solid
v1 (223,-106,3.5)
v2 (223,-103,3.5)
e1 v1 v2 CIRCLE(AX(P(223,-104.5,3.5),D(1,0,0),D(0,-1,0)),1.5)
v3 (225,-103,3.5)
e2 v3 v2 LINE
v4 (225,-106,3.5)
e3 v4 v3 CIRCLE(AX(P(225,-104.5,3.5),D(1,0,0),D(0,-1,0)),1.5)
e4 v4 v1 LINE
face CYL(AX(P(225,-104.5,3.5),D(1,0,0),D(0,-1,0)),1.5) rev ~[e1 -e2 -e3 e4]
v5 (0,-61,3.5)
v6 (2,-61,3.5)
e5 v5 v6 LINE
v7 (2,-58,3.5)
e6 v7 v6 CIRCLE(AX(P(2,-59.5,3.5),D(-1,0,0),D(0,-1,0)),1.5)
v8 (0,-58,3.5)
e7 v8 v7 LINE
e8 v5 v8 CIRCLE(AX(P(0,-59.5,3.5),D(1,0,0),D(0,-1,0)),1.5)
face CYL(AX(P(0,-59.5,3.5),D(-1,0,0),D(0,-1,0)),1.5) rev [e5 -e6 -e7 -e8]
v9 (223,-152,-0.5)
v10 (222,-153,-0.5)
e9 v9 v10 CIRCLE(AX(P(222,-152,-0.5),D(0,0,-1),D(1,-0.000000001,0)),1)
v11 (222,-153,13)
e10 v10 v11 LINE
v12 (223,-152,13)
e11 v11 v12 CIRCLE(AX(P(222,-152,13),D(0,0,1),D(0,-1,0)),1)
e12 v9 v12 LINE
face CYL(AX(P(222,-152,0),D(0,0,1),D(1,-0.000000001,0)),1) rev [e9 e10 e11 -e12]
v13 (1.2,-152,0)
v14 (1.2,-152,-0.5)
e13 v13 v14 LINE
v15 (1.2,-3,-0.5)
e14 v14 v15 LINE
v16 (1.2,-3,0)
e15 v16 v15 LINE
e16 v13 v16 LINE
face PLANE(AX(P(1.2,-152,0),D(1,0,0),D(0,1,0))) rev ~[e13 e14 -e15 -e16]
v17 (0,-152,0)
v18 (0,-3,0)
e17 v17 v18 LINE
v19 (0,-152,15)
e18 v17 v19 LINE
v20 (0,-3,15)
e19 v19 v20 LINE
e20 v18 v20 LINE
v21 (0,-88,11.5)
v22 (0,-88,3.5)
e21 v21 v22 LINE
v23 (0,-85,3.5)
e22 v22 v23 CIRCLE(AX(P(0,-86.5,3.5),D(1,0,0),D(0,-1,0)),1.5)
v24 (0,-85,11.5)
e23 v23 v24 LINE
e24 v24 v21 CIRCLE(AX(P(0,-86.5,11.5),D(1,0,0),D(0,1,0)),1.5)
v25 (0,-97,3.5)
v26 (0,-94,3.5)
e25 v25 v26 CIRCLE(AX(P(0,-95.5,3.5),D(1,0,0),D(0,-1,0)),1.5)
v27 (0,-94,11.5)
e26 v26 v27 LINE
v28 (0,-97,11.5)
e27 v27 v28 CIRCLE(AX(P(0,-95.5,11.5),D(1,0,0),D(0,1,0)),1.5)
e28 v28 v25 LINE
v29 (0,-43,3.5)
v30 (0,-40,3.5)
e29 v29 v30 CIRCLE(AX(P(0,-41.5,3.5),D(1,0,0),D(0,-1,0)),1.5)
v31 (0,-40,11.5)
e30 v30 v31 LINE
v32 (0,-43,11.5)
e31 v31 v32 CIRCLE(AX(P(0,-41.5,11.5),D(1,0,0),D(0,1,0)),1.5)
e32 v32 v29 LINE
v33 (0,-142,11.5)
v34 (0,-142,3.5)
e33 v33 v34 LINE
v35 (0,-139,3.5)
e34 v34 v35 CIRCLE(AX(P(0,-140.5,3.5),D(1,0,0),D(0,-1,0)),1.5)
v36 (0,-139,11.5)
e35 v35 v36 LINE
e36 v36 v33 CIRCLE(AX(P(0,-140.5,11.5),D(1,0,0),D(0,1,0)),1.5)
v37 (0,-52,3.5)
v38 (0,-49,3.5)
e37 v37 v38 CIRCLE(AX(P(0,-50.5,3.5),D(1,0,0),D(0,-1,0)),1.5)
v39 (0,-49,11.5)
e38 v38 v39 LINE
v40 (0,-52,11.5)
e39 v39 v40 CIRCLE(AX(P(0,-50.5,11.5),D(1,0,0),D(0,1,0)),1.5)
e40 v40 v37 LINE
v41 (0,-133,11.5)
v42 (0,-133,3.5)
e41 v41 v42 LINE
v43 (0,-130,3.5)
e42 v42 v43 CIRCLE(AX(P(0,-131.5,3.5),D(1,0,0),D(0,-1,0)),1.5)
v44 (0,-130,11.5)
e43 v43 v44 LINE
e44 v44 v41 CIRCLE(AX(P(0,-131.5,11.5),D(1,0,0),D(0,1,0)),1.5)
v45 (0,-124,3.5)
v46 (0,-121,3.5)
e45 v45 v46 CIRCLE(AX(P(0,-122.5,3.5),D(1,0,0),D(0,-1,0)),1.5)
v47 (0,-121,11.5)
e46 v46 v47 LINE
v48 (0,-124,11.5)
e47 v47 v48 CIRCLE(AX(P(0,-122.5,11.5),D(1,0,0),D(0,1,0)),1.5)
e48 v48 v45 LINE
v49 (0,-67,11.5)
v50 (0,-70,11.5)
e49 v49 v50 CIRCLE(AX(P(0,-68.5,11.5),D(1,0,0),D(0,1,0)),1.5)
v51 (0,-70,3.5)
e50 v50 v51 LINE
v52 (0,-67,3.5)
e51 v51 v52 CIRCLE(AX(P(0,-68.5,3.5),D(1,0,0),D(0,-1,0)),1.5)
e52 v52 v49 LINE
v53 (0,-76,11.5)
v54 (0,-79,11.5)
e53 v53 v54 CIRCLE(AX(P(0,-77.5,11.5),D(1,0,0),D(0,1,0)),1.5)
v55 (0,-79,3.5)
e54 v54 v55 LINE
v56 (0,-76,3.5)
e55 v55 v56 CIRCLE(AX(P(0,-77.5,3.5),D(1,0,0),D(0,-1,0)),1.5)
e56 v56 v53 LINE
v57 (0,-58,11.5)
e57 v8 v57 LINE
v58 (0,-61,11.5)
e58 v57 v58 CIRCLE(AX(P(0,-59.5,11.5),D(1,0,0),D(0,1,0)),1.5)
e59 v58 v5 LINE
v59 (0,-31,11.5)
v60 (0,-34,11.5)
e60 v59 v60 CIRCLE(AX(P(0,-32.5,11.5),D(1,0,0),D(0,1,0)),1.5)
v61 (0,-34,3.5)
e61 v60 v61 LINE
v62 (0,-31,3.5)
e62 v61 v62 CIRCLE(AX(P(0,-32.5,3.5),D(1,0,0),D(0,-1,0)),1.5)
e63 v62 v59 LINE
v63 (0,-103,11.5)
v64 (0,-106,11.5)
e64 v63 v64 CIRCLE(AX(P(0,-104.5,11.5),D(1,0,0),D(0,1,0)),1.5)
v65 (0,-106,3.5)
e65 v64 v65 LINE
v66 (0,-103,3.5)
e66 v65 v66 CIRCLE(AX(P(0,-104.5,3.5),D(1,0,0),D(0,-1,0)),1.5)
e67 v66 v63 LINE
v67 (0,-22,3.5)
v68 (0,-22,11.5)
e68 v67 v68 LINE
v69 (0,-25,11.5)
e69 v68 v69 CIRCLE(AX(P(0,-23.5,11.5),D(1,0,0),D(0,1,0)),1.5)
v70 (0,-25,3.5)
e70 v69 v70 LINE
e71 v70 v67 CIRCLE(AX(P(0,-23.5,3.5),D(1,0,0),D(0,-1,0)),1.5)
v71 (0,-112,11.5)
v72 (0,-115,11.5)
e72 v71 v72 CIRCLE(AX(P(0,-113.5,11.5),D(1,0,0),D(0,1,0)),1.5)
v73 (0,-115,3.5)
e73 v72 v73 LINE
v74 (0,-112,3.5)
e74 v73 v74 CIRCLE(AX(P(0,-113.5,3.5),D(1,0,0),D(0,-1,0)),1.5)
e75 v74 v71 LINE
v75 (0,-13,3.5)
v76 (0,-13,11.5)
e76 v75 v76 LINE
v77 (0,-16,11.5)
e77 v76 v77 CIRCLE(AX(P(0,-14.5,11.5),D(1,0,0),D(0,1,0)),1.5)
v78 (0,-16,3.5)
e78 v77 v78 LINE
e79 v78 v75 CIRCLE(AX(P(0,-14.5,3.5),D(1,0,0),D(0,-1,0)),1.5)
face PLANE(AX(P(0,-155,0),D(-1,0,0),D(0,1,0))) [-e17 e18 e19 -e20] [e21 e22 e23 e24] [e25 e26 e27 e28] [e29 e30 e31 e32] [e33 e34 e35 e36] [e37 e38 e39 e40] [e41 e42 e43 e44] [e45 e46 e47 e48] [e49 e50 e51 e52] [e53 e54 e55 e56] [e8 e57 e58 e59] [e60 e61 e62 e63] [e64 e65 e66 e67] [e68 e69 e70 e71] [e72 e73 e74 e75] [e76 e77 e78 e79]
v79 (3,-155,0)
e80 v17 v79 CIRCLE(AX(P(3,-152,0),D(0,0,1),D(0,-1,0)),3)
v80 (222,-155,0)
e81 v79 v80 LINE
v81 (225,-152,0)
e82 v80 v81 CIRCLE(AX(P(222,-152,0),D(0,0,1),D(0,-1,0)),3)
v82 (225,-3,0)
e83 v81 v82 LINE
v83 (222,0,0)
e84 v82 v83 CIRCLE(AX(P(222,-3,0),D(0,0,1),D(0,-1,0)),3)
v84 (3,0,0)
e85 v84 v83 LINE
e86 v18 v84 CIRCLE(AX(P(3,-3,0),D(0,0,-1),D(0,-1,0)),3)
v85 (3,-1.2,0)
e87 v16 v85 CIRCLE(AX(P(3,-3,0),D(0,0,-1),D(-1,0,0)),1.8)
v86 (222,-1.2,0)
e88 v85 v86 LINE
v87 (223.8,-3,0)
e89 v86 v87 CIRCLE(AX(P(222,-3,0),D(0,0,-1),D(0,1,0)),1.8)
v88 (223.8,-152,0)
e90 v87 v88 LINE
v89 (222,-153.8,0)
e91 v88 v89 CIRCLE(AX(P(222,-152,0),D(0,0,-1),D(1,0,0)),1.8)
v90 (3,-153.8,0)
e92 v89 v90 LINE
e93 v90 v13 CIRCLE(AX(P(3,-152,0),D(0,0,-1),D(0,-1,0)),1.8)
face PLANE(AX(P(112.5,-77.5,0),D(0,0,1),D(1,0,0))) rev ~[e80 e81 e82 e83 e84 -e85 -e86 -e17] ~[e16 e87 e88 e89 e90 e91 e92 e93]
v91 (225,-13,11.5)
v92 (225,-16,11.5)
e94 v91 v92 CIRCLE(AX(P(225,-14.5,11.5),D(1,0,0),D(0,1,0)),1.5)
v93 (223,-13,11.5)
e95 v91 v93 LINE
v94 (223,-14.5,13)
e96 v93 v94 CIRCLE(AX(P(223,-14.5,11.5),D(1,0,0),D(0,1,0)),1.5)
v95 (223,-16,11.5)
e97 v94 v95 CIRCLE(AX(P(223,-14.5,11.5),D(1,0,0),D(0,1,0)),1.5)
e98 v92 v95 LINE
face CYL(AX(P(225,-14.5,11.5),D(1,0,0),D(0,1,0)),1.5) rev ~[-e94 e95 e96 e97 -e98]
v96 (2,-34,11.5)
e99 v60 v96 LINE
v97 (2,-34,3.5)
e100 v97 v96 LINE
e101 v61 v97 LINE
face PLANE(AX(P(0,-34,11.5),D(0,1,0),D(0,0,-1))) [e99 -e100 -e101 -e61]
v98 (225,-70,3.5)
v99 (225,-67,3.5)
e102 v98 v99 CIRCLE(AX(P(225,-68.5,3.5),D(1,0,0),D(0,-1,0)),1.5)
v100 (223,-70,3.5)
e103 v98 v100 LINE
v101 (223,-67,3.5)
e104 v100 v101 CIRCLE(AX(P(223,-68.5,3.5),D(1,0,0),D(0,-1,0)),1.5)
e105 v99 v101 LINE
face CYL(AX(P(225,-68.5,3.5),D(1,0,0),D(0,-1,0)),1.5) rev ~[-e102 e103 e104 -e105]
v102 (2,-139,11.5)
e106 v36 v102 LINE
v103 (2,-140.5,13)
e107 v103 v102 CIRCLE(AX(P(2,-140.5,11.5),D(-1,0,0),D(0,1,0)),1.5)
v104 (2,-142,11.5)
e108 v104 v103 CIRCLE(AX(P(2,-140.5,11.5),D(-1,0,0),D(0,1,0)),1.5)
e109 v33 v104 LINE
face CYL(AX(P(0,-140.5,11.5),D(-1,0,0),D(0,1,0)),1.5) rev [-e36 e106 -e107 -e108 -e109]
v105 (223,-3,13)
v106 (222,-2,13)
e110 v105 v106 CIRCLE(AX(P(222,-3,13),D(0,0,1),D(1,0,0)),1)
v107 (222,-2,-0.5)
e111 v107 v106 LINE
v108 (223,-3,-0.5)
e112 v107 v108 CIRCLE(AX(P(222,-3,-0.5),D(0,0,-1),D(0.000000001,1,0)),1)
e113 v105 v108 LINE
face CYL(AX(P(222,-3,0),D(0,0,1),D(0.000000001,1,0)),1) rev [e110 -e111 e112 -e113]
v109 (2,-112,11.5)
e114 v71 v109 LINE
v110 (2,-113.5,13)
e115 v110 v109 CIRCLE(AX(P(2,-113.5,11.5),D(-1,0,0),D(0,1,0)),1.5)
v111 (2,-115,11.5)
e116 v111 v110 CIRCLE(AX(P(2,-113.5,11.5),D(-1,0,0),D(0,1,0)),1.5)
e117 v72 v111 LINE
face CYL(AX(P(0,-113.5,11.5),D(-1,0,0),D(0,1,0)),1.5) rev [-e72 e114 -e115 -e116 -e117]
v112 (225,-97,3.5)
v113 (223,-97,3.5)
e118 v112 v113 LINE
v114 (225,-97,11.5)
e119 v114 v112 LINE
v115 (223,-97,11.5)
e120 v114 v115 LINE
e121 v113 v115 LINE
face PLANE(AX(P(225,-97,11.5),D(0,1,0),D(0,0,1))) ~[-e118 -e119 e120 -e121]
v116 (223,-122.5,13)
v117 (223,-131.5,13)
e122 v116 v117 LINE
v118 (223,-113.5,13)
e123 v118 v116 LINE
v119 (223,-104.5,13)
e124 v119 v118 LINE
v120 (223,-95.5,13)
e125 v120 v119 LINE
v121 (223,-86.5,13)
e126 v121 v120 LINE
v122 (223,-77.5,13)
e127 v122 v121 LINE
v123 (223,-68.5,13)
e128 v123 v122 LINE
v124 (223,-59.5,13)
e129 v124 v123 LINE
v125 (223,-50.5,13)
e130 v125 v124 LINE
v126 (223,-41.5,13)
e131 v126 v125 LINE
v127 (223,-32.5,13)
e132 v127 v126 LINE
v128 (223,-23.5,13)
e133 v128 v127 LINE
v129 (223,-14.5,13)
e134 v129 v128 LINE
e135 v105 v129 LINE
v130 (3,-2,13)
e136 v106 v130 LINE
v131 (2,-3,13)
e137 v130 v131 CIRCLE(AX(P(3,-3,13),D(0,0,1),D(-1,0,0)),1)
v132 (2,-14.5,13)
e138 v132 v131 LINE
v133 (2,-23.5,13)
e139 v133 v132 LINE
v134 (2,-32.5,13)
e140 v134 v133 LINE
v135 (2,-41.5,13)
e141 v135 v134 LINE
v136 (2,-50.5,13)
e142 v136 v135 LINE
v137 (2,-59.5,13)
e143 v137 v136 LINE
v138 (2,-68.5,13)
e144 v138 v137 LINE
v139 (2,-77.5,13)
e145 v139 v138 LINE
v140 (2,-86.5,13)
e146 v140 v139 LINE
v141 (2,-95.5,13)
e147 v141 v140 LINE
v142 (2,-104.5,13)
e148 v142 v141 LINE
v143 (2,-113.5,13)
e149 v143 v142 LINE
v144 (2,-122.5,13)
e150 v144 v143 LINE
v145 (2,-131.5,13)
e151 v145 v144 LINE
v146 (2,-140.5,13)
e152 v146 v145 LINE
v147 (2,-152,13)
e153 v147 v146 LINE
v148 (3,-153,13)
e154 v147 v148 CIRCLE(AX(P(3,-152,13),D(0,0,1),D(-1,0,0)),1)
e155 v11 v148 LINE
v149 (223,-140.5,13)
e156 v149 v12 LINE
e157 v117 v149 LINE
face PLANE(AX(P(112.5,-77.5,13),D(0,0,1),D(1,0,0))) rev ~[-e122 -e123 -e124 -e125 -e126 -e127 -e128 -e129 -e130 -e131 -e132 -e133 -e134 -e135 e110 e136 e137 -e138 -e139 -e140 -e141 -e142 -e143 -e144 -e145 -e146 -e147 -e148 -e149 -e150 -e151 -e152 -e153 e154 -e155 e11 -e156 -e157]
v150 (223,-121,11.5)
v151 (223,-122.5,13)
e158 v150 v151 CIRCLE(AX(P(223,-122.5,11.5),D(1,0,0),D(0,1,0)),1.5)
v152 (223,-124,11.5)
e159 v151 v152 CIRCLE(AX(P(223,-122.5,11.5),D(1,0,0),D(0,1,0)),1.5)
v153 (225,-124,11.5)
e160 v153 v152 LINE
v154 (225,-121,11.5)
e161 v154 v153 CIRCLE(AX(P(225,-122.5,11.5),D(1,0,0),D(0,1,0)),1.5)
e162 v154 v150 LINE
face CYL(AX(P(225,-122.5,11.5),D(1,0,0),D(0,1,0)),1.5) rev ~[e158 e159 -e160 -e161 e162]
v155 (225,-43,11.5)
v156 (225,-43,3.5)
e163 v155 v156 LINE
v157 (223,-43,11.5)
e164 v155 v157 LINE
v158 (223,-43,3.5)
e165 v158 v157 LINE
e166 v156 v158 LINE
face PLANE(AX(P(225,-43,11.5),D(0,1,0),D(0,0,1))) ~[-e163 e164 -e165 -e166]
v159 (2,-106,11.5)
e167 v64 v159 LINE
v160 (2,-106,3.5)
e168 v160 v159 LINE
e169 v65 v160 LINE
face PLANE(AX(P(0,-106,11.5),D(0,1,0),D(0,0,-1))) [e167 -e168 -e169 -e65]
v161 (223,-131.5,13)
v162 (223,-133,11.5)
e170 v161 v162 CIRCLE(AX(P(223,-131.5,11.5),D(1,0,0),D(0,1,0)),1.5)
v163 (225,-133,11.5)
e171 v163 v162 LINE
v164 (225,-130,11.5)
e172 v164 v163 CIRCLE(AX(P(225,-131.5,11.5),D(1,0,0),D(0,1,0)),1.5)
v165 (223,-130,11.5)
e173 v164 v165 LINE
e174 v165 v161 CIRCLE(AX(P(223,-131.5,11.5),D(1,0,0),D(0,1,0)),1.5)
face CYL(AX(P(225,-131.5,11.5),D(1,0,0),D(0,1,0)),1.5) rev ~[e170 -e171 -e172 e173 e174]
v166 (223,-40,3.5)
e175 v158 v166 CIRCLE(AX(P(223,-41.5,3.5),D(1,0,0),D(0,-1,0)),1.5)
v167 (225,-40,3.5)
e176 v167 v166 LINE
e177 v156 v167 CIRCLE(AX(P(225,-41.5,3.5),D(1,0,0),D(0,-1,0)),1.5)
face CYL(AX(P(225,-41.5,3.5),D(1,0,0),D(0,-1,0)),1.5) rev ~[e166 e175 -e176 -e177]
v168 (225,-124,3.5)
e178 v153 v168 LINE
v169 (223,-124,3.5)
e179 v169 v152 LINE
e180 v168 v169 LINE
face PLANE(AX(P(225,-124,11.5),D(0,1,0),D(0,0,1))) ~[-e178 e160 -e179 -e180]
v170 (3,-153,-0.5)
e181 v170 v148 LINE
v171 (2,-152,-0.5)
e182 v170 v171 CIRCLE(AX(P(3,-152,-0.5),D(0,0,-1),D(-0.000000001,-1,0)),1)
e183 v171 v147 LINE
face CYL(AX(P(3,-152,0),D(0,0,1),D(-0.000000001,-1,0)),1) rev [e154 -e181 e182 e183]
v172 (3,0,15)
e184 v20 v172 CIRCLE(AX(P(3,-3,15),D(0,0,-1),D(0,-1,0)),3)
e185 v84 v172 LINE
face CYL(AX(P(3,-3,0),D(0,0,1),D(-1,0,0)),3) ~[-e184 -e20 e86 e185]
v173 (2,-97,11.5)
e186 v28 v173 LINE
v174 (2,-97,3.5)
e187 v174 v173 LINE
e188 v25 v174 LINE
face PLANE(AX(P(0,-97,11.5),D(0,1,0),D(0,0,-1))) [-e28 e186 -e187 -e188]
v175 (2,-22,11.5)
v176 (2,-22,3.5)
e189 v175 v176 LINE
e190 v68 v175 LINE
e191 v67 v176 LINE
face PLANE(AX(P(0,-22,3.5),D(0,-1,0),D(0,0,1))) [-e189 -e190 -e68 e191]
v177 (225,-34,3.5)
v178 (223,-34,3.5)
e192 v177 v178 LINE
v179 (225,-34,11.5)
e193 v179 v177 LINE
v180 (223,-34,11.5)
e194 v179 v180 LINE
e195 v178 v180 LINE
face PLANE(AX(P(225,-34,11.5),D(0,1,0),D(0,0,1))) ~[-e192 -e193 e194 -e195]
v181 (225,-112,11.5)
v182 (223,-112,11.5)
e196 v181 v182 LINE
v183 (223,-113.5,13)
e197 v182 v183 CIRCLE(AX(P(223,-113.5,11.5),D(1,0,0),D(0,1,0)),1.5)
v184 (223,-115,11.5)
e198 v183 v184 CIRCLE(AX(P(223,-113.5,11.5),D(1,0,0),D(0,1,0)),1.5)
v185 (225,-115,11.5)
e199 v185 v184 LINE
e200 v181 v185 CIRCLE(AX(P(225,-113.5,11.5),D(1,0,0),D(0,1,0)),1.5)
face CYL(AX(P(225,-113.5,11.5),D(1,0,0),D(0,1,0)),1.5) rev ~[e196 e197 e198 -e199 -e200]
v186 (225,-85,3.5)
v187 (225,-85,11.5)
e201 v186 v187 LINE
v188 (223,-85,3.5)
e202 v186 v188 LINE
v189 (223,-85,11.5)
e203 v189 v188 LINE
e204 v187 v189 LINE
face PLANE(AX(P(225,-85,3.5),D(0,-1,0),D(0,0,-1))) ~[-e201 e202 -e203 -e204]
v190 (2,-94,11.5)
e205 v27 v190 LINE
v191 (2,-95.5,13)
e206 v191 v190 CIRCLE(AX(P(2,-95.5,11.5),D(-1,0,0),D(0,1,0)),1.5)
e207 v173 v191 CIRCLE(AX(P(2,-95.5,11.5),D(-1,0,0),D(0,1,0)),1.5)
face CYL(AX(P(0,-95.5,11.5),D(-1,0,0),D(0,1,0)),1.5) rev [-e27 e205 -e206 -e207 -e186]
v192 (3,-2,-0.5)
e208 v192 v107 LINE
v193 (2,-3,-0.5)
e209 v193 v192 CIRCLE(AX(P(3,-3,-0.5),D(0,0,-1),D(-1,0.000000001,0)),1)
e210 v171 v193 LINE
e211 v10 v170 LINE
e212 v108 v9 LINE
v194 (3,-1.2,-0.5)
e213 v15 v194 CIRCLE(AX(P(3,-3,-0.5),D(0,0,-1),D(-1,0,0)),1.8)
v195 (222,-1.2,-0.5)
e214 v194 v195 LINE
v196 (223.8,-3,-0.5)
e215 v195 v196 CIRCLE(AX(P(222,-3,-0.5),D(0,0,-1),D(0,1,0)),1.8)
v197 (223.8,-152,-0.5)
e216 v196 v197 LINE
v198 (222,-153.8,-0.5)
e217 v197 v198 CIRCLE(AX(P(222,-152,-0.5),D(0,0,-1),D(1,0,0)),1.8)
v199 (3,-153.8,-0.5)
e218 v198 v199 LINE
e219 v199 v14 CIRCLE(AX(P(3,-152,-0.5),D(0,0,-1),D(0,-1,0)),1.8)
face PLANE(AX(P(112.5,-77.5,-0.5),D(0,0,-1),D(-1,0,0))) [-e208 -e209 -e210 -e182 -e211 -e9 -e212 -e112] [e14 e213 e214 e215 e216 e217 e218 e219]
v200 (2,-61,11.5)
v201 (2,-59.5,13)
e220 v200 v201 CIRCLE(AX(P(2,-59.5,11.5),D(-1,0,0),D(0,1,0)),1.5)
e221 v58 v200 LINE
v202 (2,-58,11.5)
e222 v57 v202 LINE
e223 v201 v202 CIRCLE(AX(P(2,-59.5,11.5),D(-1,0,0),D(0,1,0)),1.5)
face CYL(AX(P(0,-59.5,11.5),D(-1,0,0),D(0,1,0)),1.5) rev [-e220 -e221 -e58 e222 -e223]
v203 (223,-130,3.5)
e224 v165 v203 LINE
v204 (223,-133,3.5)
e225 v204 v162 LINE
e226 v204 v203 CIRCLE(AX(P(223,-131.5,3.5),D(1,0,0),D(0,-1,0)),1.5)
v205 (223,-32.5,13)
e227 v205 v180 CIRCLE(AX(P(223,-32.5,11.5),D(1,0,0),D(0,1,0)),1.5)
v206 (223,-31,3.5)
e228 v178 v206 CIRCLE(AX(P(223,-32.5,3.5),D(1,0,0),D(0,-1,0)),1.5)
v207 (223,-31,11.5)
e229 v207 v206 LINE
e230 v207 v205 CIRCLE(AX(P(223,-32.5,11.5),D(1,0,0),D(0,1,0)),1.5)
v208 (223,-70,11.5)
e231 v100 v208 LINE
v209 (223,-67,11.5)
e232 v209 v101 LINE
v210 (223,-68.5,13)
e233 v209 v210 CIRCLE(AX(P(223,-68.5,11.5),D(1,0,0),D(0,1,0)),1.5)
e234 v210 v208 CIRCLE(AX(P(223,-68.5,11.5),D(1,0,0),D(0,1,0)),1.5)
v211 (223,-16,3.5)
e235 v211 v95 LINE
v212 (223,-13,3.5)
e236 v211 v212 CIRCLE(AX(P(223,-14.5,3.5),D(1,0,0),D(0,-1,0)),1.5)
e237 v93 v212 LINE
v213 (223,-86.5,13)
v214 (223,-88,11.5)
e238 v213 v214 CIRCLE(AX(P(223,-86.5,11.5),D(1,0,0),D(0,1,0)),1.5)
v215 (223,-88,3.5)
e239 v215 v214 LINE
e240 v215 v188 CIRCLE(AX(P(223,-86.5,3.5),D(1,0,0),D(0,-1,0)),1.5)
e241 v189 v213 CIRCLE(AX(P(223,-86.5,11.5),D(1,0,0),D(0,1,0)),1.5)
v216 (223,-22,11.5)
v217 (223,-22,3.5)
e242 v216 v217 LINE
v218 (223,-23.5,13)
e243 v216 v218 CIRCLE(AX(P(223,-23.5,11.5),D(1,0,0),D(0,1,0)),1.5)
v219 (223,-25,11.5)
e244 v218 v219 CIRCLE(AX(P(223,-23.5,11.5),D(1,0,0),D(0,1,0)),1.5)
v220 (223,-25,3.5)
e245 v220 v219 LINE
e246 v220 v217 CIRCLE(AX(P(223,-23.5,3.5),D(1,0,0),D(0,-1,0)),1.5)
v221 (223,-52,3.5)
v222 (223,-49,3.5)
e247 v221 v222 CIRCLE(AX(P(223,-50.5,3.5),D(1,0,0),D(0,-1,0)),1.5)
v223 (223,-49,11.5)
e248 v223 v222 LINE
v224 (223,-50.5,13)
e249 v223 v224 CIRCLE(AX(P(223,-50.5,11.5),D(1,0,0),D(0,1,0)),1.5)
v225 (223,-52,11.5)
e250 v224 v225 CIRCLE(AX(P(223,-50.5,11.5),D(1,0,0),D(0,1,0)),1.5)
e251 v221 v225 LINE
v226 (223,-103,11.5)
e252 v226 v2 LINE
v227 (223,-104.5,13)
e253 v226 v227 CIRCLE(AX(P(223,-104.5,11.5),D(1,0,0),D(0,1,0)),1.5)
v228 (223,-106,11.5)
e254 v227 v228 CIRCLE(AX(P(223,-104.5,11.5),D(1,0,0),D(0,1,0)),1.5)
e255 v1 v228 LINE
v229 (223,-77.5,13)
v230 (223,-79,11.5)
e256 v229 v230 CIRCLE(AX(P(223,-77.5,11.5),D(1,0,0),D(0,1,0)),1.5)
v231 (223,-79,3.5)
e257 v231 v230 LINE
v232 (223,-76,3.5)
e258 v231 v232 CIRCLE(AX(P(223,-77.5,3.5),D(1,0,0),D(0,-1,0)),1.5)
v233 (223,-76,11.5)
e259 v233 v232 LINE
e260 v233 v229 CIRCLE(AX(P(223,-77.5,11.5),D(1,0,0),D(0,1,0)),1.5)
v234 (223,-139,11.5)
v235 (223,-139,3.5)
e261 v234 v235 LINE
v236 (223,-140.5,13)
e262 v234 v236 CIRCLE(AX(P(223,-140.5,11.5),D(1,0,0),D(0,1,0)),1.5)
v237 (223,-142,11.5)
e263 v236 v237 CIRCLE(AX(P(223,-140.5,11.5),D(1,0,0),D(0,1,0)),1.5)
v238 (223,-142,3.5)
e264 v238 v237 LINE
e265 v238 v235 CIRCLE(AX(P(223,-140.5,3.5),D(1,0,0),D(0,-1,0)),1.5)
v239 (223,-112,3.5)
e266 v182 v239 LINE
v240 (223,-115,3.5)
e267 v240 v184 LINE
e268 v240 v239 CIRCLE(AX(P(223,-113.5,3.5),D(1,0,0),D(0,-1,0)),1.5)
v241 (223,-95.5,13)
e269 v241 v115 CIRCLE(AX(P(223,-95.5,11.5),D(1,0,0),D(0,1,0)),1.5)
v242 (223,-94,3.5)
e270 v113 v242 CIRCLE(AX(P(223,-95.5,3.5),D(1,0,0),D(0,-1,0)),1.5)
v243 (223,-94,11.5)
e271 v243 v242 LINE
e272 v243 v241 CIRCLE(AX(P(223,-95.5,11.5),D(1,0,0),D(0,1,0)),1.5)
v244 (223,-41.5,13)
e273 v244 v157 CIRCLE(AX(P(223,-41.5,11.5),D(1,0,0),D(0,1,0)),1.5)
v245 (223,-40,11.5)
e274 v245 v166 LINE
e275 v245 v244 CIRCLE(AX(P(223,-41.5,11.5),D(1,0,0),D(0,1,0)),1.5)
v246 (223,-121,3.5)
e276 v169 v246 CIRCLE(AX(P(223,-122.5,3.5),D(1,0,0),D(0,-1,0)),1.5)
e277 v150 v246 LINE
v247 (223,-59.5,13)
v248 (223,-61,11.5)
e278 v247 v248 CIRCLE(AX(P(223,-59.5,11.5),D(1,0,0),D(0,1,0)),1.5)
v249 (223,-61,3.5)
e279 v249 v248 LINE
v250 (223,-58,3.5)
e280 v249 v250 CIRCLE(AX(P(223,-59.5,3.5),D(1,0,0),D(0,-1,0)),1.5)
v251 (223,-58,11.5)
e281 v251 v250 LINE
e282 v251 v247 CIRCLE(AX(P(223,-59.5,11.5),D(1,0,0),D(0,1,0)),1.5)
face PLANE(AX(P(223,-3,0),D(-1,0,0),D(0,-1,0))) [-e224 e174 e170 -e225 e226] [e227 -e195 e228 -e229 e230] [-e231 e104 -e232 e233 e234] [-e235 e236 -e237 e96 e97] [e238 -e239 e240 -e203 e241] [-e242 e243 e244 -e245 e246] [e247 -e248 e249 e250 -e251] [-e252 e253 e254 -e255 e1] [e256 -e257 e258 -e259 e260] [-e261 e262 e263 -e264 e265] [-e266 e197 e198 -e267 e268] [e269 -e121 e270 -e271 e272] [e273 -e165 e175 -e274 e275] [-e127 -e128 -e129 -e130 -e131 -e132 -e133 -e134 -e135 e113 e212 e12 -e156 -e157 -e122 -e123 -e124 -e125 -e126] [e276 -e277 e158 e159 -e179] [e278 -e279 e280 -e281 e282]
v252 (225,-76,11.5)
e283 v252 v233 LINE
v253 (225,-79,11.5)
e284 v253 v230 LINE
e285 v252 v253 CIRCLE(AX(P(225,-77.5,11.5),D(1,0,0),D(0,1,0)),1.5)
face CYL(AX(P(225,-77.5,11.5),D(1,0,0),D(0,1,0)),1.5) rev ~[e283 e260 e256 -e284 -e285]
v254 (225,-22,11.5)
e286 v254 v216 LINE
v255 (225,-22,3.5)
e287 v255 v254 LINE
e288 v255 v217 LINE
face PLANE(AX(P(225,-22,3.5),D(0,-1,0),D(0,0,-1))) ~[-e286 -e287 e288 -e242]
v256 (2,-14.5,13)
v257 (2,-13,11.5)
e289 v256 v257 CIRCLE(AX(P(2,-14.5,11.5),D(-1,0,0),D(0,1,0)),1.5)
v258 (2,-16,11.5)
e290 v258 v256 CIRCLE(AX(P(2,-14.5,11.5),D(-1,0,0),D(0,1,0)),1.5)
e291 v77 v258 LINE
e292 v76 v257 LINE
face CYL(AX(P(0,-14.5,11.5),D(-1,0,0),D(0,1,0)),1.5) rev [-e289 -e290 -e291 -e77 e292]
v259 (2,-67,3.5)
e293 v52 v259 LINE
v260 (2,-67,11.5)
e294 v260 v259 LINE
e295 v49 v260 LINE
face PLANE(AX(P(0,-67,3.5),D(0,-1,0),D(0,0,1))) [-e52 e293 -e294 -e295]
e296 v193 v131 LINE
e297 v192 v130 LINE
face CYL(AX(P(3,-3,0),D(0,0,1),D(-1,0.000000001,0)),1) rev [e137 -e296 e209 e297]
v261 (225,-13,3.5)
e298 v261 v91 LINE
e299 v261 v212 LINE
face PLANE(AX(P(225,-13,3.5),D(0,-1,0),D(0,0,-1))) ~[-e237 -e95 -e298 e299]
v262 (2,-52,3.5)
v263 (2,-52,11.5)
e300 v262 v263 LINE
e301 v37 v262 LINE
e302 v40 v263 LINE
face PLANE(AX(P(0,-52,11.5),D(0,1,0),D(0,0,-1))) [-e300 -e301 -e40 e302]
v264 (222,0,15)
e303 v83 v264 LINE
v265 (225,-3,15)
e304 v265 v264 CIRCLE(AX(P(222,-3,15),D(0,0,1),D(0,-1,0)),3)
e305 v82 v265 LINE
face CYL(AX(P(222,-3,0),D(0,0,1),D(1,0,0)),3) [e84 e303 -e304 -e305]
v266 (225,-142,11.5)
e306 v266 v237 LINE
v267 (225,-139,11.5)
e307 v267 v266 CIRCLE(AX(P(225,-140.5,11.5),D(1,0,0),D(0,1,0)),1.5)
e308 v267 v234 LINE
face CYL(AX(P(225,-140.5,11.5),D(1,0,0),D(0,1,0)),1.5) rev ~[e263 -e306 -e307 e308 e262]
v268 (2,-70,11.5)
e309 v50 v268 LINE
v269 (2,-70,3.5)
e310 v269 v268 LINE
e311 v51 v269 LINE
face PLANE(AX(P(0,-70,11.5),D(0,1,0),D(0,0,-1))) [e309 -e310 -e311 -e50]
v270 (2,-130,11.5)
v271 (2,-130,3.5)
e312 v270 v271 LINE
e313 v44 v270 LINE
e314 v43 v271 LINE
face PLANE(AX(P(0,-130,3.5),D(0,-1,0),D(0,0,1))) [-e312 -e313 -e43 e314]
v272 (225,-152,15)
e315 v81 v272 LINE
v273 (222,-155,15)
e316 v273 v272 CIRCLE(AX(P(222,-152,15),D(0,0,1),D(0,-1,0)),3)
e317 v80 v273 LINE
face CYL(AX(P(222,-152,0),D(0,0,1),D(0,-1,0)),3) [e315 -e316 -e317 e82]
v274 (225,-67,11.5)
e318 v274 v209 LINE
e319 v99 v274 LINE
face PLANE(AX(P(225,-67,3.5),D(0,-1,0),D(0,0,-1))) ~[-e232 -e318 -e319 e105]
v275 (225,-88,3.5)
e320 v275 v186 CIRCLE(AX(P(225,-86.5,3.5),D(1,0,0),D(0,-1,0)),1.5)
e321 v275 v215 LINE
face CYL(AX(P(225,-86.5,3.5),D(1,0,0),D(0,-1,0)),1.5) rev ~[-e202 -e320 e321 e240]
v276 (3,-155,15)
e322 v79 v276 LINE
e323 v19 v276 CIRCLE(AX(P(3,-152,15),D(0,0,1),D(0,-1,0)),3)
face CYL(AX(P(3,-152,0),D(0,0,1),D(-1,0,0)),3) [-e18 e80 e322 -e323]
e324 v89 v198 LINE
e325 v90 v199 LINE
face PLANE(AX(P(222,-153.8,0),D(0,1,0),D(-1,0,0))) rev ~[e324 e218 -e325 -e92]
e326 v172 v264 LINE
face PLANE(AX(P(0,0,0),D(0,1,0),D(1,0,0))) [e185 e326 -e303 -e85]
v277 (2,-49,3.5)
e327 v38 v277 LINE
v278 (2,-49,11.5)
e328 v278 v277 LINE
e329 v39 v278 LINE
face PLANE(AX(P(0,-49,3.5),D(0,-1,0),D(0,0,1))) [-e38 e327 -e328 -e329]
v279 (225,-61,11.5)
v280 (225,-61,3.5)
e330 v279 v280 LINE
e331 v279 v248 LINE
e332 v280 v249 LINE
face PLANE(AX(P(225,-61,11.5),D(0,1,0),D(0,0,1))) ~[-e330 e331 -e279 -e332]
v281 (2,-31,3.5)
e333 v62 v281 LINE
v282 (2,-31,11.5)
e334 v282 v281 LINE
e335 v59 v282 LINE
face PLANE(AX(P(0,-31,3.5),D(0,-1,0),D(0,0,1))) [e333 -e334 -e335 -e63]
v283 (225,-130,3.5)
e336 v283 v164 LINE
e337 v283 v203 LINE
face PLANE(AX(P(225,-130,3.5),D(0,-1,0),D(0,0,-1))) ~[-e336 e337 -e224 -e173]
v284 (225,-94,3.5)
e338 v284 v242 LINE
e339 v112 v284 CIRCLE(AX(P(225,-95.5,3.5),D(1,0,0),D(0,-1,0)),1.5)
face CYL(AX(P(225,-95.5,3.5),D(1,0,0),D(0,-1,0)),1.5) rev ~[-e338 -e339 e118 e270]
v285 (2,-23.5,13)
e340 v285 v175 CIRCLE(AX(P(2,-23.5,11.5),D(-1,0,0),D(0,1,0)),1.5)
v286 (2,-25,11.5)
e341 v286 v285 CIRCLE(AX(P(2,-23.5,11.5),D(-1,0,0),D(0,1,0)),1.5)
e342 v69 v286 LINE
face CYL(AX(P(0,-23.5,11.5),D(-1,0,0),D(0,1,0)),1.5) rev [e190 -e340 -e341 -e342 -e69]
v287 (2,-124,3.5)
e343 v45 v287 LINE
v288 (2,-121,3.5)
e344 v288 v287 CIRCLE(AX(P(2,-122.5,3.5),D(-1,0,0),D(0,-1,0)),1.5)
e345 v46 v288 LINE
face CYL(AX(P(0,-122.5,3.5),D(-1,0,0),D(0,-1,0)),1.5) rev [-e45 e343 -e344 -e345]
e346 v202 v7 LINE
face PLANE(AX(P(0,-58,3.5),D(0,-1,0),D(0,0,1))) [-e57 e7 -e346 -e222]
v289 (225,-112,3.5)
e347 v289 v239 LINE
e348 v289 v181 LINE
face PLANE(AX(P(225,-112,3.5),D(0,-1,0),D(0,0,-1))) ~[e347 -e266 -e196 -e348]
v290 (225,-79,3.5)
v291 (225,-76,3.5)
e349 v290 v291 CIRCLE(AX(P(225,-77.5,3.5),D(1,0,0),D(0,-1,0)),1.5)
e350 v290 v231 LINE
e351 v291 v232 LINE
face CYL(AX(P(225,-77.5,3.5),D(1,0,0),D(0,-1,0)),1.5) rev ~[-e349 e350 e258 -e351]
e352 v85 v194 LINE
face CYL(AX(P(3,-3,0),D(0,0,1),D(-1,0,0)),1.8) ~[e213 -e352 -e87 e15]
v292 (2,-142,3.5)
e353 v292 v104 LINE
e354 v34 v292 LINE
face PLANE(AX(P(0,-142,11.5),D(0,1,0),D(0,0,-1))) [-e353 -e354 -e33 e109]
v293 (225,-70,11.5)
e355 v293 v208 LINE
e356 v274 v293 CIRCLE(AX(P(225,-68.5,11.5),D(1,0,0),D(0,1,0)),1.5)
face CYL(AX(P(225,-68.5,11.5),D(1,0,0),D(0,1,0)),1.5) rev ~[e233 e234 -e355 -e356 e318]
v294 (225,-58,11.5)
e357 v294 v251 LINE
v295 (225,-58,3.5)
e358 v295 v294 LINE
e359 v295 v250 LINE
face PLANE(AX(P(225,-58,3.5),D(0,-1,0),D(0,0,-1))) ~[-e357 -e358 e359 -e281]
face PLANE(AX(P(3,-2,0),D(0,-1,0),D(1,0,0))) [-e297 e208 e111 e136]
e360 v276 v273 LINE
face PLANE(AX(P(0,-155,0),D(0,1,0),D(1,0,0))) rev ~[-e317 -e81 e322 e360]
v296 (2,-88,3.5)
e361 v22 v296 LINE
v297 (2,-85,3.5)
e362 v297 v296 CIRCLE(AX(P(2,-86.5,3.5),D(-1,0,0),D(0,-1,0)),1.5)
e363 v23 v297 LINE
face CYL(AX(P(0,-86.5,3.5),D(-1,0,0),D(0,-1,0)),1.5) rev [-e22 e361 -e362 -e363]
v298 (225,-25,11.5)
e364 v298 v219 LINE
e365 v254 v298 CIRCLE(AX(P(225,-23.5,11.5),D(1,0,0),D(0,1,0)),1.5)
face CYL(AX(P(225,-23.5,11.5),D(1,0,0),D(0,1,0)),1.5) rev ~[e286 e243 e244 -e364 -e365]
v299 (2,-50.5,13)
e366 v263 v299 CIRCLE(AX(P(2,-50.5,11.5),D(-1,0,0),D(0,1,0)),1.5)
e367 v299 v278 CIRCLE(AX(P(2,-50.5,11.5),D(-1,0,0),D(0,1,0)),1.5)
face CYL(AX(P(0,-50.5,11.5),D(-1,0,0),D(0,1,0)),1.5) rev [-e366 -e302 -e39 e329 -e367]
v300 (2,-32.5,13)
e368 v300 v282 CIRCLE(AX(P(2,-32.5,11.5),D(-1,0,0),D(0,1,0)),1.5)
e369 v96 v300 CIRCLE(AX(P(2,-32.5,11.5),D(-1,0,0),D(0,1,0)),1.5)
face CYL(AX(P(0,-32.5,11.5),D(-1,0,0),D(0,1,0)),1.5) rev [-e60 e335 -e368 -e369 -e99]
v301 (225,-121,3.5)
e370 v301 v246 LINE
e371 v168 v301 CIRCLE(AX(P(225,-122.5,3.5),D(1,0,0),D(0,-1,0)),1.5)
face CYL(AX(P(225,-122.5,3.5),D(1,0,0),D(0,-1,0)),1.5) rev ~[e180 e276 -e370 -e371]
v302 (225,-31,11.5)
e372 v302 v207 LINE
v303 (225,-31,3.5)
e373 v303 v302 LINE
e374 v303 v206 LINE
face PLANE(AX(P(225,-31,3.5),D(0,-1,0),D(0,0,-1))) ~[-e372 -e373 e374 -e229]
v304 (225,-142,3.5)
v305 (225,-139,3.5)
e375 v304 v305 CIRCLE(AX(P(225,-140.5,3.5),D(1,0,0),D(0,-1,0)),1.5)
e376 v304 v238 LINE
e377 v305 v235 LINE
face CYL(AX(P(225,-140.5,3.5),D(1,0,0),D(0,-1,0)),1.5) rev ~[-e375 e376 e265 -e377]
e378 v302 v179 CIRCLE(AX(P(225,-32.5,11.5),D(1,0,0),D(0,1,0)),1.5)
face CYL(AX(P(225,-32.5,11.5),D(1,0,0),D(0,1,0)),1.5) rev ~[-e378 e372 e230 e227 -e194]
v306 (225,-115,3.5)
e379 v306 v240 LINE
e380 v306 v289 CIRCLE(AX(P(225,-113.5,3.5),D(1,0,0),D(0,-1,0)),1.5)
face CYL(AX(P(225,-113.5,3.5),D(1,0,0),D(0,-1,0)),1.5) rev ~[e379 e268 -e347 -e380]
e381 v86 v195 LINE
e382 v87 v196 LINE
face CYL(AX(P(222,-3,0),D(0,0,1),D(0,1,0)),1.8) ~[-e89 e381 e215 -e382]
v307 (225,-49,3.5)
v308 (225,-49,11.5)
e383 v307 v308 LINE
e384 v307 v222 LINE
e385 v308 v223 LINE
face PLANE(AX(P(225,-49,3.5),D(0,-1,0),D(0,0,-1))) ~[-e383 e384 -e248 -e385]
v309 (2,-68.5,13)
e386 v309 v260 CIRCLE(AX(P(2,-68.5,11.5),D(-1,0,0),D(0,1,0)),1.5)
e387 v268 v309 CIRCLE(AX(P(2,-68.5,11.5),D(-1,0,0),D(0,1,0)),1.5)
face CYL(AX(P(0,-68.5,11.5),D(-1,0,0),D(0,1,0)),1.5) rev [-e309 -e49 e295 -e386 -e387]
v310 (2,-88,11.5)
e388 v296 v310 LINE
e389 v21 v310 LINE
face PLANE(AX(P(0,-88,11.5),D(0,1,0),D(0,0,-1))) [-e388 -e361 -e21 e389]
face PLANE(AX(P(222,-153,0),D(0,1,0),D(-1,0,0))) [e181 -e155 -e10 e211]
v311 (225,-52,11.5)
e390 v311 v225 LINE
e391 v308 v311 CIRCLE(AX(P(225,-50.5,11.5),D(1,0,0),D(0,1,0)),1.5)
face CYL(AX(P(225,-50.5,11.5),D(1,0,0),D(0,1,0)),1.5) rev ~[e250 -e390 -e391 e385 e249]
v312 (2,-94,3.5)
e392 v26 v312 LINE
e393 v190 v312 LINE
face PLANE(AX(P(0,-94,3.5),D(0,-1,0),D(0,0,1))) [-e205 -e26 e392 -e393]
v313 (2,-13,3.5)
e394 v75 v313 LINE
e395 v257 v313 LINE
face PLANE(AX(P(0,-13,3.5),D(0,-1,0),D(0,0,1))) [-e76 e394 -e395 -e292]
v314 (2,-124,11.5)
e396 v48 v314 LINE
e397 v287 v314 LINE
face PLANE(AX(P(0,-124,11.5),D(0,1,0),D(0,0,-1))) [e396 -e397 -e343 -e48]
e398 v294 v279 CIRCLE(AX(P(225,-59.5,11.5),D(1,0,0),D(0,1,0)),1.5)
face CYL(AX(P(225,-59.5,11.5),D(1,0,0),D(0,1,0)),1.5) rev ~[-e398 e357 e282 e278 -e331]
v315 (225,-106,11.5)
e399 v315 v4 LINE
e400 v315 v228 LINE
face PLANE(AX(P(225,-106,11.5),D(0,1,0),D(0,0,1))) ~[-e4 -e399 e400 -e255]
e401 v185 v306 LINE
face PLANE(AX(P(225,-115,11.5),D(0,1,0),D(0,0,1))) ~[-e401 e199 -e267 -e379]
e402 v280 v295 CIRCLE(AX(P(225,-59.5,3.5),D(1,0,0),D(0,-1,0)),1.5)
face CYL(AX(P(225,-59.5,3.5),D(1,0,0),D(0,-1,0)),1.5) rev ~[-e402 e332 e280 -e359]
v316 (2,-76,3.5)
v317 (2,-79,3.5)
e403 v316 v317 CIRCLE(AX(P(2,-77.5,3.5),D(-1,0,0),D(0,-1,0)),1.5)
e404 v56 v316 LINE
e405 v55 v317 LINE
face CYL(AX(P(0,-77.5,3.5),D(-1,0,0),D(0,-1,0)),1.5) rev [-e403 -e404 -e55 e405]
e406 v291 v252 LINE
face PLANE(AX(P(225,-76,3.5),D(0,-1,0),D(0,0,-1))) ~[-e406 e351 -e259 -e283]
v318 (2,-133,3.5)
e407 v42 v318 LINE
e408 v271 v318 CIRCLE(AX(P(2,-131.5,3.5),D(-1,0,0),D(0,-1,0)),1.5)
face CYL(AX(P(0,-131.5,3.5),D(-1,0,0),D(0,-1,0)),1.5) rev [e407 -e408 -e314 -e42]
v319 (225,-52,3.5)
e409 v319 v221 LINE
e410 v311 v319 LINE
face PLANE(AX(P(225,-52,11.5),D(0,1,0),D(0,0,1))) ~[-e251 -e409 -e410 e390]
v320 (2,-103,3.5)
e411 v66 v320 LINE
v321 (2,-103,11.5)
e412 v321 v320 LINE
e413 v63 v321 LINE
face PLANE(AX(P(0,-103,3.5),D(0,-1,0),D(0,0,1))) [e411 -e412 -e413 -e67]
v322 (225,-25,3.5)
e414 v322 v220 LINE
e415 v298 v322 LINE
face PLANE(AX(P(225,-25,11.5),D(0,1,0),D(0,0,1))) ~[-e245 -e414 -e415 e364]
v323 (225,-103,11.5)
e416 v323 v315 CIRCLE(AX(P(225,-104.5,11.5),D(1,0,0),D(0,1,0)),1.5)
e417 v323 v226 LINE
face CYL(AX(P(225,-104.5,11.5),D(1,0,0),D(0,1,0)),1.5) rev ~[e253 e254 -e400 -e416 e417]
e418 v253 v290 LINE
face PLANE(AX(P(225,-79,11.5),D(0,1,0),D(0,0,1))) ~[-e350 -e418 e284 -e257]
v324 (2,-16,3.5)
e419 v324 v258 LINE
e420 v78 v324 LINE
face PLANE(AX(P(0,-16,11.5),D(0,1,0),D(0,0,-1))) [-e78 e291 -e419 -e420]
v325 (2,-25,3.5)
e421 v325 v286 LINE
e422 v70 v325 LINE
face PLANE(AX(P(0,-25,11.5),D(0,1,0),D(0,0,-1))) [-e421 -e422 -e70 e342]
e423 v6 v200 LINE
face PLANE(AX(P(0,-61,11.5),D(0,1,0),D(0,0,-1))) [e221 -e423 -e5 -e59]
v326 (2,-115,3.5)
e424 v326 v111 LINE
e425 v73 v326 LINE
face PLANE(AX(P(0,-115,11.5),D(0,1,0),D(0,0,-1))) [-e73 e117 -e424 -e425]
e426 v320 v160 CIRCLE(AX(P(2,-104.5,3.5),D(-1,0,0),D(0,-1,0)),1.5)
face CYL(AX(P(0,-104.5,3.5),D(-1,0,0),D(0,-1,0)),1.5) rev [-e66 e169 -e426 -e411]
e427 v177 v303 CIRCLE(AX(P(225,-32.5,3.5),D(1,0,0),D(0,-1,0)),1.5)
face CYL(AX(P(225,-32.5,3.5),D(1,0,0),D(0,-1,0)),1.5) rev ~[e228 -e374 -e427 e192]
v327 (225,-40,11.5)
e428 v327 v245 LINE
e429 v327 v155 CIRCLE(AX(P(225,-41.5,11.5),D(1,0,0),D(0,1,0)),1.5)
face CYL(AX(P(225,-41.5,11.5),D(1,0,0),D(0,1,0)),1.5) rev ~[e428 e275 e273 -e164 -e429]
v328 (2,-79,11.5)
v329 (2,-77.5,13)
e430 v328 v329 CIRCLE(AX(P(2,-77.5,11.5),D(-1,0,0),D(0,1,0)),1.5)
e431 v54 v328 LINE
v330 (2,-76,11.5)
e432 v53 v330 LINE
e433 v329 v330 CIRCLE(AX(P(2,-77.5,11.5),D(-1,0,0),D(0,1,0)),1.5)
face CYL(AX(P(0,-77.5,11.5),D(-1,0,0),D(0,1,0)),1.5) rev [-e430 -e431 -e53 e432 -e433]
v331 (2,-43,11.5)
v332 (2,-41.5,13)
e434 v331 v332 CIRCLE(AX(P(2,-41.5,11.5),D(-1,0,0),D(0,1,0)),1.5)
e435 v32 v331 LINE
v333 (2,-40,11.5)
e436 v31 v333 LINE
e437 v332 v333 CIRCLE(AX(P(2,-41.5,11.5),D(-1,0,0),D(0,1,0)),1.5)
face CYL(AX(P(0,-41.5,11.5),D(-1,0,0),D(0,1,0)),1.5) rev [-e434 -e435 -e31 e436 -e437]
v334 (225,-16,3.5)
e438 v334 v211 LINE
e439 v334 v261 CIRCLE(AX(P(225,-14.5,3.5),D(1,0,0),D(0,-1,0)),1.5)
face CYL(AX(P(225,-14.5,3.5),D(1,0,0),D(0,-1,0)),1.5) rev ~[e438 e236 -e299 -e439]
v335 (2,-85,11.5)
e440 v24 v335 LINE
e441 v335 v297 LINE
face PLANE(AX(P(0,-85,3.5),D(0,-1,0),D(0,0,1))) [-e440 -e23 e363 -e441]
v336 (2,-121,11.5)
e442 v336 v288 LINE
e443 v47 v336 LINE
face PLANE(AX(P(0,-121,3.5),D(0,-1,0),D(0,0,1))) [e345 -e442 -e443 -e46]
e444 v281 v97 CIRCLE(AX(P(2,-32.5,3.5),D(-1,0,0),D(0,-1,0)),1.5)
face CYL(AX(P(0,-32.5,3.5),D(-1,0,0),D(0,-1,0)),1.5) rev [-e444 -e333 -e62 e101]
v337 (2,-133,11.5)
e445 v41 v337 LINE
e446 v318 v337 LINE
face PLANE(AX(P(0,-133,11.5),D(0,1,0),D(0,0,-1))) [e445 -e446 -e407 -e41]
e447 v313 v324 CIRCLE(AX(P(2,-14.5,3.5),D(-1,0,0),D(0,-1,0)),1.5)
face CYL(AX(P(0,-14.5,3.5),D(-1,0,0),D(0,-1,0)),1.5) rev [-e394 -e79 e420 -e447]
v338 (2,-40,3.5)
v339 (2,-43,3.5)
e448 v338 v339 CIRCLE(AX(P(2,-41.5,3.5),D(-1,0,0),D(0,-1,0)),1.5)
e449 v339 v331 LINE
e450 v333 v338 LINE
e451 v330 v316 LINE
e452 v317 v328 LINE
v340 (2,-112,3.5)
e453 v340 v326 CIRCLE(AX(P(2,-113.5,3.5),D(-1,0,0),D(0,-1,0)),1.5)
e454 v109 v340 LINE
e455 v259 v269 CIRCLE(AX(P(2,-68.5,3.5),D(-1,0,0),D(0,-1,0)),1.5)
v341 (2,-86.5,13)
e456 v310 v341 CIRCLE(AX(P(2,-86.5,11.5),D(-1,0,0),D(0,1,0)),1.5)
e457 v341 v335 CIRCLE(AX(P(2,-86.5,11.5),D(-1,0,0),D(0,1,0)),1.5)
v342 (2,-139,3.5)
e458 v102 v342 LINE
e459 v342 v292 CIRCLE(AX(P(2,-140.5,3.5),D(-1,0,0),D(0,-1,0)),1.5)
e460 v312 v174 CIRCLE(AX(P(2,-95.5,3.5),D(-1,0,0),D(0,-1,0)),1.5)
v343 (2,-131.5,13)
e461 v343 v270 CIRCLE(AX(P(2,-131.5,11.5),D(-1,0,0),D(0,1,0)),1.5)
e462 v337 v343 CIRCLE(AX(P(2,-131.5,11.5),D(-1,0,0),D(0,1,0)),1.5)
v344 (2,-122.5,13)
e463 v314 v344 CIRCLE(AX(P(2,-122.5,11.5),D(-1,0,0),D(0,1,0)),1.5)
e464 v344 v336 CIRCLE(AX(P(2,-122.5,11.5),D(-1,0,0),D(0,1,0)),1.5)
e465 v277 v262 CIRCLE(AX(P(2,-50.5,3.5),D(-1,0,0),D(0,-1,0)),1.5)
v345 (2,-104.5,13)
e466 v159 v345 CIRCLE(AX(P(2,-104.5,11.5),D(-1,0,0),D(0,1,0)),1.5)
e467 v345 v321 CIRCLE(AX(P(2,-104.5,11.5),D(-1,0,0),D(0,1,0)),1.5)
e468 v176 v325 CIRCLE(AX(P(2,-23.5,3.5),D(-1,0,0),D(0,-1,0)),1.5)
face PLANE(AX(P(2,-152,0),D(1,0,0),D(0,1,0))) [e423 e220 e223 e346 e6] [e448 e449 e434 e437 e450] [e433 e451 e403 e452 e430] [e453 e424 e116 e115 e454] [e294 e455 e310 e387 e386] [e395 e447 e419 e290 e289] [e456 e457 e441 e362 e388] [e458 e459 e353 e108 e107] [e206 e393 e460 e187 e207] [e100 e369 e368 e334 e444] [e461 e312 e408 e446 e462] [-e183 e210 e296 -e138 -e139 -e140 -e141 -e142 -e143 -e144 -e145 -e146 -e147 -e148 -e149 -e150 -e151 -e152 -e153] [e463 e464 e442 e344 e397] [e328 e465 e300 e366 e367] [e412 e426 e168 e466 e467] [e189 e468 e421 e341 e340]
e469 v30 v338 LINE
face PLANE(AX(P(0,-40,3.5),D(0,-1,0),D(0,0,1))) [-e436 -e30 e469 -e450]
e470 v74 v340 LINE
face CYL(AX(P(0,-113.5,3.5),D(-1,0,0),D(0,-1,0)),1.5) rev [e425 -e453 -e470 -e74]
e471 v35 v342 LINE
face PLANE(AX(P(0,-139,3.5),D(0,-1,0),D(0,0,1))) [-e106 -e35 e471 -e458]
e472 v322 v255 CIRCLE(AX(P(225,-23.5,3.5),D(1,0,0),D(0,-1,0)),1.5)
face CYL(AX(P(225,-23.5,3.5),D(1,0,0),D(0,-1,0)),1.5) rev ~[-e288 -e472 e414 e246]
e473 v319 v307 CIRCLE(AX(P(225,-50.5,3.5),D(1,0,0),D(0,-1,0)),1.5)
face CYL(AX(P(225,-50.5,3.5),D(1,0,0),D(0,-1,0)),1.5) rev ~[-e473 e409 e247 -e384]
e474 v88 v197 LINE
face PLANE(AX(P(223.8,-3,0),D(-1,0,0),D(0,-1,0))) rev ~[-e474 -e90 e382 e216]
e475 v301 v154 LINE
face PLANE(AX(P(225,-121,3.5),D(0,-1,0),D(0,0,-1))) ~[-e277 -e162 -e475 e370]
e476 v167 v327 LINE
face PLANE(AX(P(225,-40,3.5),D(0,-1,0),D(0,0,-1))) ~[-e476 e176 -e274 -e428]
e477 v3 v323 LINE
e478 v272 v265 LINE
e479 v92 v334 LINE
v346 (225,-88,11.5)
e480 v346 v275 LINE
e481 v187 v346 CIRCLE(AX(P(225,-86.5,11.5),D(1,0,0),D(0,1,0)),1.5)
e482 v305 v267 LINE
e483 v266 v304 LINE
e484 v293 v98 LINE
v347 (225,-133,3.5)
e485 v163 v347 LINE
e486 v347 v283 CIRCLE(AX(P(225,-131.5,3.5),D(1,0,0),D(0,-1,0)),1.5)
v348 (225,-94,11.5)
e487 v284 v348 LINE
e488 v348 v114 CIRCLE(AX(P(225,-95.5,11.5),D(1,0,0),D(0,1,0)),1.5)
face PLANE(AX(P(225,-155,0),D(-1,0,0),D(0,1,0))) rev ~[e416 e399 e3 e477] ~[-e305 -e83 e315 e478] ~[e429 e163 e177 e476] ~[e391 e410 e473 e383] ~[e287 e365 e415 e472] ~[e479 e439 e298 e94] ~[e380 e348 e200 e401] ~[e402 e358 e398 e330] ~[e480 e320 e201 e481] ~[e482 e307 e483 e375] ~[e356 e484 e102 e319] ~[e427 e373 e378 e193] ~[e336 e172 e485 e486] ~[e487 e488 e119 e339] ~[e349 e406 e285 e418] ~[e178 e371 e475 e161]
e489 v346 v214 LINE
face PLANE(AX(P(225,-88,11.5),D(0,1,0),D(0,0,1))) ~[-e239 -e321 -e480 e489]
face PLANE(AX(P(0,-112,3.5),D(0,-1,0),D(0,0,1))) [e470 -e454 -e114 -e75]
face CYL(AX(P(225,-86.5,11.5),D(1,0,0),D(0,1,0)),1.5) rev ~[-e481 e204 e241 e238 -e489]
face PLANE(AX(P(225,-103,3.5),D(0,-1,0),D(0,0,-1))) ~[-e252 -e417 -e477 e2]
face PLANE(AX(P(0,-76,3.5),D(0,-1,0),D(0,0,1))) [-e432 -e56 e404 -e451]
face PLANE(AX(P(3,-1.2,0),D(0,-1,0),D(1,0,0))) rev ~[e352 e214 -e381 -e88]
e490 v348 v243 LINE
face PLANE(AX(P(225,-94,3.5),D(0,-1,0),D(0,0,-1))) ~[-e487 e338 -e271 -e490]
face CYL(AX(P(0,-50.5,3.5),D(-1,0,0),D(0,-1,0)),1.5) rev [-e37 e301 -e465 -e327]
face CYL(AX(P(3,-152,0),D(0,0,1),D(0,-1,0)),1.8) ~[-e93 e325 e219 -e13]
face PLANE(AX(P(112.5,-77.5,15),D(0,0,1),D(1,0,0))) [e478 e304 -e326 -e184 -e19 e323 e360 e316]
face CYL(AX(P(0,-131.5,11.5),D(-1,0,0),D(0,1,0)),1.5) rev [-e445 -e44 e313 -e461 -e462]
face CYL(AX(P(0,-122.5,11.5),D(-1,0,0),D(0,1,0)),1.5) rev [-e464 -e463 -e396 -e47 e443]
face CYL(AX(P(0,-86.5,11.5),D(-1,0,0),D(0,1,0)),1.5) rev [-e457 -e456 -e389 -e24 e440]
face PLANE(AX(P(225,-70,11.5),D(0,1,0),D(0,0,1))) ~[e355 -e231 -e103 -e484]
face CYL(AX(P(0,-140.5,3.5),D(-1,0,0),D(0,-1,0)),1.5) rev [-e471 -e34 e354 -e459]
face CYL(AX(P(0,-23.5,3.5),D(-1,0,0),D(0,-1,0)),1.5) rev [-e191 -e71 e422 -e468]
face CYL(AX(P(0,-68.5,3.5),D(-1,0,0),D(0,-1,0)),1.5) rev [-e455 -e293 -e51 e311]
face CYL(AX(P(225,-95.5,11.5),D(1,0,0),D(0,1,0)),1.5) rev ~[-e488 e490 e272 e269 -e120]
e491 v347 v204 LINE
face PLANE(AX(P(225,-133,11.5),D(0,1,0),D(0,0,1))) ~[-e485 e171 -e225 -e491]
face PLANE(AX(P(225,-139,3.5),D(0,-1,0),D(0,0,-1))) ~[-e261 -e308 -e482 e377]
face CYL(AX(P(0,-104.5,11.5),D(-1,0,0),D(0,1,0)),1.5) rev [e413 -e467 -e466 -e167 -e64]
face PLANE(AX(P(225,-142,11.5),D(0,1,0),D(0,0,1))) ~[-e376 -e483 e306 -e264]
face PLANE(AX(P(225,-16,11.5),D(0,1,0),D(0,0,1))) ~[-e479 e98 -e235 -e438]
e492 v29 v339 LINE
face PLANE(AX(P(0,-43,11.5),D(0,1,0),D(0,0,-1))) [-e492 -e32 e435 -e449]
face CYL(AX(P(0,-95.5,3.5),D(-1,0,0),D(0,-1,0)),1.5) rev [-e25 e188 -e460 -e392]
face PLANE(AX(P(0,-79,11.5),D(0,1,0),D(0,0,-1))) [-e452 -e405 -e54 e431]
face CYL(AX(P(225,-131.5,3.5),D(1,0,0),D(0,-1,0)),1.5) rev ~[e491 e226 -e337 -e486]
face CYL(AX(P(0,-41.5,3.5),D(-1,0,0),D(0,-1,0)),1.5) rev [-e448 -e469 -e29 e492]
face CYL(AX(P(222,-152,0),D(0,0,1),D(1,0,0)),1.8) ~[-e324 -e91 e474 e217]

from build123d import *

# Parameters (mm, degrees)
SKETCH_1_W          = 225
SKETCH_1_H          = 155
EXTRUDE_1_DEPTH     = 15
FILLET_1_R          = 3
SHELL_1_T           = -2
EXTRUDE_2_DEPTH     = 0.5
CUT_EXTRUDE_1_DEPTH = 3


with BuildPart() as part:
    # 草图1 → 凸台-拉伸1 (new body)
    with BuildSketch(Plane.XY):
        with Locations((112.5, -77.5)):
            Rectangle(SKETCH_1_W, SKETCH_1_H)
    extrude(amount=EXTRUDE_1_DEPTH)

    # 圆角1
    fillet_1_edges = [part.edges().sort_by_distance(p)[0] for p in [
        (0, 0, 7.5),
        (225, 0, 7.5),
        (225, -155, 7.5),
        (0, -155, 7.5),
    ]]
    fillet(fillet_1_edges, radius=FILLET_1_R)

    # 抽壳1
    shell_1_openings = [part.faces().sort_by_distance(p)[0] for p in [
        (112.5, -77.5, 0),
    ]]
    offset(amount=SHELL_1_T, openings=shell_1_openings, kind=Kind.INTERSECTION)

    # 草图4 → 凸台-拉伸2 (add)
    with BuildSketch(Plane(origin=(0, 0, 0), x_dir=(-1, 0, 0), z_dir=(0, 0, -1))):
        with BuildLine():
            Line((-223.8, -3), (-223.8, -152))
            ThreePointArc((-223.8, -152), (-223.272792206, -153.272792206), (-222, -153.8))
            Line((-222, -153.8), (-3, -153.8))
            ThreePointArc((-3, -153.8), (-1.727207794, -153.272792206), (-1.2, -152))
            Line((-1.2, -152), (-1.2, -3))
            ThreePointArc((-1.2, -3), (-1.727207794, -1.727207794), (-3, -1.2))
            Line((-3, -1.2), (-222, -1.2))
            ThreePointArc((-222, -1.2), (-223.272792206, -1.727207794), (-223.8, -3))
        make_face()
        with BuildLine():
            Line((-223, -3), (-223, -152))
            ThreePointArc((-223, -152), (-222.707106781, -152.707106781), (-222, -153))
            Line((-222, -153), (-3, -153))
            ThreePointArc((-3, -153), (-2.292893219, -152.707106781), (-2, -152))
            Line((-2, -152), (-2, -3))
            ThreePointArc((-2, -3), (-2.292893219, -2.292893219), (-3, -2))
            Line((-3, -2), (-222, -2))
            ThreePointArc((-222, -2), (-222.707106781, -2.292893219), (-223, -3))
        make_face(mode=Mode.SUBTRACT)
    extrude(amount=EXTRUDE_2_DEPTH)

    # 草图5 → 切除-拉伸1 (cut)
    with BuildSketch(Plane.ZY):
        with BuildLine():
            Line((3.5, -13), (11.5, -13))
            ThreePointArc((11.5, -13), (13, -14.5), (11.5, -16))
            Line((11.5, -16), (3.5, -16))
            ThreePointArc((3.5, -16), (2, -14.5), (3.5, -13))
        make_face()
        with BuildLine():
            Line((3.5, -22), (11.5, -22))
            ThreePointArc((11.5, -22), (13, -23.5), (11.5, -25))
            Line((11.5, -25), (3.5, -25))
            ThreePointArc((3.5, -25), (2, -23.5), (3.5, -22))
        make_face()
        with BuildLine():
            Line((3.5, -31), (11.5, -31))
            ThreePointArc((11.5, -31), (13, -32.5), (11.5, -34))
            Line((11.5, -34), (3.5, -34))
            ThreePointArc((3.5, -34), (2, -32.5), (3.5, -31))
        make_face()
        with BuildLine():
            Line((3.5, -40), (11.5, -40))
            ThreePointArc((11.5, -40), (13, -41.5), (11.5, -43))
            Line((11.5, -43), (3.5, -43))
            ThreePointArc((3.5, -43), (2, -41.5), (3.5, -40))
        make_face()
        with BuildLine():
            Line((3.5, -49), (11.5, -49))
            ThreePointArc((11.5, -49), (13, -50.5), (11.5, -52))
            Line((11.5, -52), (3.5, -52))
            ThreePointArc((3.5, -52), (2, -50.5), (3.5, -49))
        make_face()
        with BuildLine():
            Line((3.5, -58), (11.5, -58))
            ThreePointArc((11.5, -58), (13, -59.5), (11.5, -61))
            Line((11.5, -61), (3.5, -61))
            ThreePointArc((3.5, -61), (2, -59.5), (3.5, -58))
        make_face()
        with BuildLine():
            Line((3.5, -67), (11.5, -67))
            ThreePointArc((11.5, -67), (13, -68.5), (11.5, -70))
            Line((11.5, -70), (3.5, -70))
            ThreePointArc((3.5, -70), (2, -68.5), (3.5, -67))
        make_face()
        with BuildLine():
            Line((3.5, -76), (11.5, -76))
            ThreePointArc((11.5, -76), (13, -77.5), (11.5, -79))
            Line((11.5, -79), (3.5, -79))
            ThreePointArc((3.5, -79), (2, -77.5), (3.5, -76))
        make_face()
        with BuildLine():
            Line((3.5, -85), (11.5, -85))
            ThreePointArc((11.5, -85), (13, -86.5), (11.5, -88))
            Line((11.5, -88), (3.5, -88))
            ThreePointArc((3.5, -88), (2, -86.5), (3.5, -85))
        make_face()
        with BuildLine():
            Line((3.5, -94), (11.5, -94))
            ThreePointArc((11.5, -94), (13, -95.5), (11.5, -97))
            Line((11.5, -97), (3.5, -97))
            ThreePointArc((3.5, -97), (2, -95.5), (3.5, -94))
        make_face()
        with BuildLine():
            Line((3.5, -103), (11.5, -103))
            ThreePointArc((11.5, -103), (13, -104.5), (11.5, -106))
            Line((11.5, -106), (3.5, -106))
            ThreePointArc((3.5, -106), (2, -104.5), (3.5, -103))
        make_face()
        with BuildLine():
            Line((3.5, -112), (11.5, -112))
            ThreePointArc((11.5, -112), (13, -113.5), (11.5, -115))
            Line((11.5, -115), (3.5, -115))
            ThreePointArc((3.5, -115), (2, -113.5), (3.5, -112))
        make_face()
        with BuildLine():
            Line((3.5, -121), (11.5, -121))
            ThreePointArc((11.5, -121), (13, -122.5), (11.5, -124))
            Line((11.5, -124), (3.5, -124))
            ThreePointArc((3.5, -124), (2, -122.5), (3.5, -121))
        make_face()
        with BuildLine():
            Line((3.5, -130), (11.5, -130))
            ThreePointArc((11.5, -130), (13, -131.5), (11.5, -133))
            Line((11.5, -133), (3.5, -133))
            ThreePointArc((3.5, -133), (2, -131.5), (3.5, -130))
        make_face()
        with BuildLine():
            Line((3.5, -139), (11.5, -139))
            ThreePointArc((11.5, -139), (13, -140.5), (11.5, -142))
            Line((11.5, -142), (3.5, -142))
            ThreePointArc((3.5, -142), (2, -140.5), (3.5, -139))
        make_face()
    cut_extrude_1 = extrude(amount=-CUT_EXTRUDE_1_DEPTH, mode=Mode.SUBTRACT)

    # 镜向1: 切除-拉伸1 across plane
    add(cut_extrude_1.mirror(Plane(origin=(112.5, 0, 0), x_dir=(0, 0, 1), z_dir=(1, 0, 0))), mode=Mode.SUBTRACT)


solid = part.part
